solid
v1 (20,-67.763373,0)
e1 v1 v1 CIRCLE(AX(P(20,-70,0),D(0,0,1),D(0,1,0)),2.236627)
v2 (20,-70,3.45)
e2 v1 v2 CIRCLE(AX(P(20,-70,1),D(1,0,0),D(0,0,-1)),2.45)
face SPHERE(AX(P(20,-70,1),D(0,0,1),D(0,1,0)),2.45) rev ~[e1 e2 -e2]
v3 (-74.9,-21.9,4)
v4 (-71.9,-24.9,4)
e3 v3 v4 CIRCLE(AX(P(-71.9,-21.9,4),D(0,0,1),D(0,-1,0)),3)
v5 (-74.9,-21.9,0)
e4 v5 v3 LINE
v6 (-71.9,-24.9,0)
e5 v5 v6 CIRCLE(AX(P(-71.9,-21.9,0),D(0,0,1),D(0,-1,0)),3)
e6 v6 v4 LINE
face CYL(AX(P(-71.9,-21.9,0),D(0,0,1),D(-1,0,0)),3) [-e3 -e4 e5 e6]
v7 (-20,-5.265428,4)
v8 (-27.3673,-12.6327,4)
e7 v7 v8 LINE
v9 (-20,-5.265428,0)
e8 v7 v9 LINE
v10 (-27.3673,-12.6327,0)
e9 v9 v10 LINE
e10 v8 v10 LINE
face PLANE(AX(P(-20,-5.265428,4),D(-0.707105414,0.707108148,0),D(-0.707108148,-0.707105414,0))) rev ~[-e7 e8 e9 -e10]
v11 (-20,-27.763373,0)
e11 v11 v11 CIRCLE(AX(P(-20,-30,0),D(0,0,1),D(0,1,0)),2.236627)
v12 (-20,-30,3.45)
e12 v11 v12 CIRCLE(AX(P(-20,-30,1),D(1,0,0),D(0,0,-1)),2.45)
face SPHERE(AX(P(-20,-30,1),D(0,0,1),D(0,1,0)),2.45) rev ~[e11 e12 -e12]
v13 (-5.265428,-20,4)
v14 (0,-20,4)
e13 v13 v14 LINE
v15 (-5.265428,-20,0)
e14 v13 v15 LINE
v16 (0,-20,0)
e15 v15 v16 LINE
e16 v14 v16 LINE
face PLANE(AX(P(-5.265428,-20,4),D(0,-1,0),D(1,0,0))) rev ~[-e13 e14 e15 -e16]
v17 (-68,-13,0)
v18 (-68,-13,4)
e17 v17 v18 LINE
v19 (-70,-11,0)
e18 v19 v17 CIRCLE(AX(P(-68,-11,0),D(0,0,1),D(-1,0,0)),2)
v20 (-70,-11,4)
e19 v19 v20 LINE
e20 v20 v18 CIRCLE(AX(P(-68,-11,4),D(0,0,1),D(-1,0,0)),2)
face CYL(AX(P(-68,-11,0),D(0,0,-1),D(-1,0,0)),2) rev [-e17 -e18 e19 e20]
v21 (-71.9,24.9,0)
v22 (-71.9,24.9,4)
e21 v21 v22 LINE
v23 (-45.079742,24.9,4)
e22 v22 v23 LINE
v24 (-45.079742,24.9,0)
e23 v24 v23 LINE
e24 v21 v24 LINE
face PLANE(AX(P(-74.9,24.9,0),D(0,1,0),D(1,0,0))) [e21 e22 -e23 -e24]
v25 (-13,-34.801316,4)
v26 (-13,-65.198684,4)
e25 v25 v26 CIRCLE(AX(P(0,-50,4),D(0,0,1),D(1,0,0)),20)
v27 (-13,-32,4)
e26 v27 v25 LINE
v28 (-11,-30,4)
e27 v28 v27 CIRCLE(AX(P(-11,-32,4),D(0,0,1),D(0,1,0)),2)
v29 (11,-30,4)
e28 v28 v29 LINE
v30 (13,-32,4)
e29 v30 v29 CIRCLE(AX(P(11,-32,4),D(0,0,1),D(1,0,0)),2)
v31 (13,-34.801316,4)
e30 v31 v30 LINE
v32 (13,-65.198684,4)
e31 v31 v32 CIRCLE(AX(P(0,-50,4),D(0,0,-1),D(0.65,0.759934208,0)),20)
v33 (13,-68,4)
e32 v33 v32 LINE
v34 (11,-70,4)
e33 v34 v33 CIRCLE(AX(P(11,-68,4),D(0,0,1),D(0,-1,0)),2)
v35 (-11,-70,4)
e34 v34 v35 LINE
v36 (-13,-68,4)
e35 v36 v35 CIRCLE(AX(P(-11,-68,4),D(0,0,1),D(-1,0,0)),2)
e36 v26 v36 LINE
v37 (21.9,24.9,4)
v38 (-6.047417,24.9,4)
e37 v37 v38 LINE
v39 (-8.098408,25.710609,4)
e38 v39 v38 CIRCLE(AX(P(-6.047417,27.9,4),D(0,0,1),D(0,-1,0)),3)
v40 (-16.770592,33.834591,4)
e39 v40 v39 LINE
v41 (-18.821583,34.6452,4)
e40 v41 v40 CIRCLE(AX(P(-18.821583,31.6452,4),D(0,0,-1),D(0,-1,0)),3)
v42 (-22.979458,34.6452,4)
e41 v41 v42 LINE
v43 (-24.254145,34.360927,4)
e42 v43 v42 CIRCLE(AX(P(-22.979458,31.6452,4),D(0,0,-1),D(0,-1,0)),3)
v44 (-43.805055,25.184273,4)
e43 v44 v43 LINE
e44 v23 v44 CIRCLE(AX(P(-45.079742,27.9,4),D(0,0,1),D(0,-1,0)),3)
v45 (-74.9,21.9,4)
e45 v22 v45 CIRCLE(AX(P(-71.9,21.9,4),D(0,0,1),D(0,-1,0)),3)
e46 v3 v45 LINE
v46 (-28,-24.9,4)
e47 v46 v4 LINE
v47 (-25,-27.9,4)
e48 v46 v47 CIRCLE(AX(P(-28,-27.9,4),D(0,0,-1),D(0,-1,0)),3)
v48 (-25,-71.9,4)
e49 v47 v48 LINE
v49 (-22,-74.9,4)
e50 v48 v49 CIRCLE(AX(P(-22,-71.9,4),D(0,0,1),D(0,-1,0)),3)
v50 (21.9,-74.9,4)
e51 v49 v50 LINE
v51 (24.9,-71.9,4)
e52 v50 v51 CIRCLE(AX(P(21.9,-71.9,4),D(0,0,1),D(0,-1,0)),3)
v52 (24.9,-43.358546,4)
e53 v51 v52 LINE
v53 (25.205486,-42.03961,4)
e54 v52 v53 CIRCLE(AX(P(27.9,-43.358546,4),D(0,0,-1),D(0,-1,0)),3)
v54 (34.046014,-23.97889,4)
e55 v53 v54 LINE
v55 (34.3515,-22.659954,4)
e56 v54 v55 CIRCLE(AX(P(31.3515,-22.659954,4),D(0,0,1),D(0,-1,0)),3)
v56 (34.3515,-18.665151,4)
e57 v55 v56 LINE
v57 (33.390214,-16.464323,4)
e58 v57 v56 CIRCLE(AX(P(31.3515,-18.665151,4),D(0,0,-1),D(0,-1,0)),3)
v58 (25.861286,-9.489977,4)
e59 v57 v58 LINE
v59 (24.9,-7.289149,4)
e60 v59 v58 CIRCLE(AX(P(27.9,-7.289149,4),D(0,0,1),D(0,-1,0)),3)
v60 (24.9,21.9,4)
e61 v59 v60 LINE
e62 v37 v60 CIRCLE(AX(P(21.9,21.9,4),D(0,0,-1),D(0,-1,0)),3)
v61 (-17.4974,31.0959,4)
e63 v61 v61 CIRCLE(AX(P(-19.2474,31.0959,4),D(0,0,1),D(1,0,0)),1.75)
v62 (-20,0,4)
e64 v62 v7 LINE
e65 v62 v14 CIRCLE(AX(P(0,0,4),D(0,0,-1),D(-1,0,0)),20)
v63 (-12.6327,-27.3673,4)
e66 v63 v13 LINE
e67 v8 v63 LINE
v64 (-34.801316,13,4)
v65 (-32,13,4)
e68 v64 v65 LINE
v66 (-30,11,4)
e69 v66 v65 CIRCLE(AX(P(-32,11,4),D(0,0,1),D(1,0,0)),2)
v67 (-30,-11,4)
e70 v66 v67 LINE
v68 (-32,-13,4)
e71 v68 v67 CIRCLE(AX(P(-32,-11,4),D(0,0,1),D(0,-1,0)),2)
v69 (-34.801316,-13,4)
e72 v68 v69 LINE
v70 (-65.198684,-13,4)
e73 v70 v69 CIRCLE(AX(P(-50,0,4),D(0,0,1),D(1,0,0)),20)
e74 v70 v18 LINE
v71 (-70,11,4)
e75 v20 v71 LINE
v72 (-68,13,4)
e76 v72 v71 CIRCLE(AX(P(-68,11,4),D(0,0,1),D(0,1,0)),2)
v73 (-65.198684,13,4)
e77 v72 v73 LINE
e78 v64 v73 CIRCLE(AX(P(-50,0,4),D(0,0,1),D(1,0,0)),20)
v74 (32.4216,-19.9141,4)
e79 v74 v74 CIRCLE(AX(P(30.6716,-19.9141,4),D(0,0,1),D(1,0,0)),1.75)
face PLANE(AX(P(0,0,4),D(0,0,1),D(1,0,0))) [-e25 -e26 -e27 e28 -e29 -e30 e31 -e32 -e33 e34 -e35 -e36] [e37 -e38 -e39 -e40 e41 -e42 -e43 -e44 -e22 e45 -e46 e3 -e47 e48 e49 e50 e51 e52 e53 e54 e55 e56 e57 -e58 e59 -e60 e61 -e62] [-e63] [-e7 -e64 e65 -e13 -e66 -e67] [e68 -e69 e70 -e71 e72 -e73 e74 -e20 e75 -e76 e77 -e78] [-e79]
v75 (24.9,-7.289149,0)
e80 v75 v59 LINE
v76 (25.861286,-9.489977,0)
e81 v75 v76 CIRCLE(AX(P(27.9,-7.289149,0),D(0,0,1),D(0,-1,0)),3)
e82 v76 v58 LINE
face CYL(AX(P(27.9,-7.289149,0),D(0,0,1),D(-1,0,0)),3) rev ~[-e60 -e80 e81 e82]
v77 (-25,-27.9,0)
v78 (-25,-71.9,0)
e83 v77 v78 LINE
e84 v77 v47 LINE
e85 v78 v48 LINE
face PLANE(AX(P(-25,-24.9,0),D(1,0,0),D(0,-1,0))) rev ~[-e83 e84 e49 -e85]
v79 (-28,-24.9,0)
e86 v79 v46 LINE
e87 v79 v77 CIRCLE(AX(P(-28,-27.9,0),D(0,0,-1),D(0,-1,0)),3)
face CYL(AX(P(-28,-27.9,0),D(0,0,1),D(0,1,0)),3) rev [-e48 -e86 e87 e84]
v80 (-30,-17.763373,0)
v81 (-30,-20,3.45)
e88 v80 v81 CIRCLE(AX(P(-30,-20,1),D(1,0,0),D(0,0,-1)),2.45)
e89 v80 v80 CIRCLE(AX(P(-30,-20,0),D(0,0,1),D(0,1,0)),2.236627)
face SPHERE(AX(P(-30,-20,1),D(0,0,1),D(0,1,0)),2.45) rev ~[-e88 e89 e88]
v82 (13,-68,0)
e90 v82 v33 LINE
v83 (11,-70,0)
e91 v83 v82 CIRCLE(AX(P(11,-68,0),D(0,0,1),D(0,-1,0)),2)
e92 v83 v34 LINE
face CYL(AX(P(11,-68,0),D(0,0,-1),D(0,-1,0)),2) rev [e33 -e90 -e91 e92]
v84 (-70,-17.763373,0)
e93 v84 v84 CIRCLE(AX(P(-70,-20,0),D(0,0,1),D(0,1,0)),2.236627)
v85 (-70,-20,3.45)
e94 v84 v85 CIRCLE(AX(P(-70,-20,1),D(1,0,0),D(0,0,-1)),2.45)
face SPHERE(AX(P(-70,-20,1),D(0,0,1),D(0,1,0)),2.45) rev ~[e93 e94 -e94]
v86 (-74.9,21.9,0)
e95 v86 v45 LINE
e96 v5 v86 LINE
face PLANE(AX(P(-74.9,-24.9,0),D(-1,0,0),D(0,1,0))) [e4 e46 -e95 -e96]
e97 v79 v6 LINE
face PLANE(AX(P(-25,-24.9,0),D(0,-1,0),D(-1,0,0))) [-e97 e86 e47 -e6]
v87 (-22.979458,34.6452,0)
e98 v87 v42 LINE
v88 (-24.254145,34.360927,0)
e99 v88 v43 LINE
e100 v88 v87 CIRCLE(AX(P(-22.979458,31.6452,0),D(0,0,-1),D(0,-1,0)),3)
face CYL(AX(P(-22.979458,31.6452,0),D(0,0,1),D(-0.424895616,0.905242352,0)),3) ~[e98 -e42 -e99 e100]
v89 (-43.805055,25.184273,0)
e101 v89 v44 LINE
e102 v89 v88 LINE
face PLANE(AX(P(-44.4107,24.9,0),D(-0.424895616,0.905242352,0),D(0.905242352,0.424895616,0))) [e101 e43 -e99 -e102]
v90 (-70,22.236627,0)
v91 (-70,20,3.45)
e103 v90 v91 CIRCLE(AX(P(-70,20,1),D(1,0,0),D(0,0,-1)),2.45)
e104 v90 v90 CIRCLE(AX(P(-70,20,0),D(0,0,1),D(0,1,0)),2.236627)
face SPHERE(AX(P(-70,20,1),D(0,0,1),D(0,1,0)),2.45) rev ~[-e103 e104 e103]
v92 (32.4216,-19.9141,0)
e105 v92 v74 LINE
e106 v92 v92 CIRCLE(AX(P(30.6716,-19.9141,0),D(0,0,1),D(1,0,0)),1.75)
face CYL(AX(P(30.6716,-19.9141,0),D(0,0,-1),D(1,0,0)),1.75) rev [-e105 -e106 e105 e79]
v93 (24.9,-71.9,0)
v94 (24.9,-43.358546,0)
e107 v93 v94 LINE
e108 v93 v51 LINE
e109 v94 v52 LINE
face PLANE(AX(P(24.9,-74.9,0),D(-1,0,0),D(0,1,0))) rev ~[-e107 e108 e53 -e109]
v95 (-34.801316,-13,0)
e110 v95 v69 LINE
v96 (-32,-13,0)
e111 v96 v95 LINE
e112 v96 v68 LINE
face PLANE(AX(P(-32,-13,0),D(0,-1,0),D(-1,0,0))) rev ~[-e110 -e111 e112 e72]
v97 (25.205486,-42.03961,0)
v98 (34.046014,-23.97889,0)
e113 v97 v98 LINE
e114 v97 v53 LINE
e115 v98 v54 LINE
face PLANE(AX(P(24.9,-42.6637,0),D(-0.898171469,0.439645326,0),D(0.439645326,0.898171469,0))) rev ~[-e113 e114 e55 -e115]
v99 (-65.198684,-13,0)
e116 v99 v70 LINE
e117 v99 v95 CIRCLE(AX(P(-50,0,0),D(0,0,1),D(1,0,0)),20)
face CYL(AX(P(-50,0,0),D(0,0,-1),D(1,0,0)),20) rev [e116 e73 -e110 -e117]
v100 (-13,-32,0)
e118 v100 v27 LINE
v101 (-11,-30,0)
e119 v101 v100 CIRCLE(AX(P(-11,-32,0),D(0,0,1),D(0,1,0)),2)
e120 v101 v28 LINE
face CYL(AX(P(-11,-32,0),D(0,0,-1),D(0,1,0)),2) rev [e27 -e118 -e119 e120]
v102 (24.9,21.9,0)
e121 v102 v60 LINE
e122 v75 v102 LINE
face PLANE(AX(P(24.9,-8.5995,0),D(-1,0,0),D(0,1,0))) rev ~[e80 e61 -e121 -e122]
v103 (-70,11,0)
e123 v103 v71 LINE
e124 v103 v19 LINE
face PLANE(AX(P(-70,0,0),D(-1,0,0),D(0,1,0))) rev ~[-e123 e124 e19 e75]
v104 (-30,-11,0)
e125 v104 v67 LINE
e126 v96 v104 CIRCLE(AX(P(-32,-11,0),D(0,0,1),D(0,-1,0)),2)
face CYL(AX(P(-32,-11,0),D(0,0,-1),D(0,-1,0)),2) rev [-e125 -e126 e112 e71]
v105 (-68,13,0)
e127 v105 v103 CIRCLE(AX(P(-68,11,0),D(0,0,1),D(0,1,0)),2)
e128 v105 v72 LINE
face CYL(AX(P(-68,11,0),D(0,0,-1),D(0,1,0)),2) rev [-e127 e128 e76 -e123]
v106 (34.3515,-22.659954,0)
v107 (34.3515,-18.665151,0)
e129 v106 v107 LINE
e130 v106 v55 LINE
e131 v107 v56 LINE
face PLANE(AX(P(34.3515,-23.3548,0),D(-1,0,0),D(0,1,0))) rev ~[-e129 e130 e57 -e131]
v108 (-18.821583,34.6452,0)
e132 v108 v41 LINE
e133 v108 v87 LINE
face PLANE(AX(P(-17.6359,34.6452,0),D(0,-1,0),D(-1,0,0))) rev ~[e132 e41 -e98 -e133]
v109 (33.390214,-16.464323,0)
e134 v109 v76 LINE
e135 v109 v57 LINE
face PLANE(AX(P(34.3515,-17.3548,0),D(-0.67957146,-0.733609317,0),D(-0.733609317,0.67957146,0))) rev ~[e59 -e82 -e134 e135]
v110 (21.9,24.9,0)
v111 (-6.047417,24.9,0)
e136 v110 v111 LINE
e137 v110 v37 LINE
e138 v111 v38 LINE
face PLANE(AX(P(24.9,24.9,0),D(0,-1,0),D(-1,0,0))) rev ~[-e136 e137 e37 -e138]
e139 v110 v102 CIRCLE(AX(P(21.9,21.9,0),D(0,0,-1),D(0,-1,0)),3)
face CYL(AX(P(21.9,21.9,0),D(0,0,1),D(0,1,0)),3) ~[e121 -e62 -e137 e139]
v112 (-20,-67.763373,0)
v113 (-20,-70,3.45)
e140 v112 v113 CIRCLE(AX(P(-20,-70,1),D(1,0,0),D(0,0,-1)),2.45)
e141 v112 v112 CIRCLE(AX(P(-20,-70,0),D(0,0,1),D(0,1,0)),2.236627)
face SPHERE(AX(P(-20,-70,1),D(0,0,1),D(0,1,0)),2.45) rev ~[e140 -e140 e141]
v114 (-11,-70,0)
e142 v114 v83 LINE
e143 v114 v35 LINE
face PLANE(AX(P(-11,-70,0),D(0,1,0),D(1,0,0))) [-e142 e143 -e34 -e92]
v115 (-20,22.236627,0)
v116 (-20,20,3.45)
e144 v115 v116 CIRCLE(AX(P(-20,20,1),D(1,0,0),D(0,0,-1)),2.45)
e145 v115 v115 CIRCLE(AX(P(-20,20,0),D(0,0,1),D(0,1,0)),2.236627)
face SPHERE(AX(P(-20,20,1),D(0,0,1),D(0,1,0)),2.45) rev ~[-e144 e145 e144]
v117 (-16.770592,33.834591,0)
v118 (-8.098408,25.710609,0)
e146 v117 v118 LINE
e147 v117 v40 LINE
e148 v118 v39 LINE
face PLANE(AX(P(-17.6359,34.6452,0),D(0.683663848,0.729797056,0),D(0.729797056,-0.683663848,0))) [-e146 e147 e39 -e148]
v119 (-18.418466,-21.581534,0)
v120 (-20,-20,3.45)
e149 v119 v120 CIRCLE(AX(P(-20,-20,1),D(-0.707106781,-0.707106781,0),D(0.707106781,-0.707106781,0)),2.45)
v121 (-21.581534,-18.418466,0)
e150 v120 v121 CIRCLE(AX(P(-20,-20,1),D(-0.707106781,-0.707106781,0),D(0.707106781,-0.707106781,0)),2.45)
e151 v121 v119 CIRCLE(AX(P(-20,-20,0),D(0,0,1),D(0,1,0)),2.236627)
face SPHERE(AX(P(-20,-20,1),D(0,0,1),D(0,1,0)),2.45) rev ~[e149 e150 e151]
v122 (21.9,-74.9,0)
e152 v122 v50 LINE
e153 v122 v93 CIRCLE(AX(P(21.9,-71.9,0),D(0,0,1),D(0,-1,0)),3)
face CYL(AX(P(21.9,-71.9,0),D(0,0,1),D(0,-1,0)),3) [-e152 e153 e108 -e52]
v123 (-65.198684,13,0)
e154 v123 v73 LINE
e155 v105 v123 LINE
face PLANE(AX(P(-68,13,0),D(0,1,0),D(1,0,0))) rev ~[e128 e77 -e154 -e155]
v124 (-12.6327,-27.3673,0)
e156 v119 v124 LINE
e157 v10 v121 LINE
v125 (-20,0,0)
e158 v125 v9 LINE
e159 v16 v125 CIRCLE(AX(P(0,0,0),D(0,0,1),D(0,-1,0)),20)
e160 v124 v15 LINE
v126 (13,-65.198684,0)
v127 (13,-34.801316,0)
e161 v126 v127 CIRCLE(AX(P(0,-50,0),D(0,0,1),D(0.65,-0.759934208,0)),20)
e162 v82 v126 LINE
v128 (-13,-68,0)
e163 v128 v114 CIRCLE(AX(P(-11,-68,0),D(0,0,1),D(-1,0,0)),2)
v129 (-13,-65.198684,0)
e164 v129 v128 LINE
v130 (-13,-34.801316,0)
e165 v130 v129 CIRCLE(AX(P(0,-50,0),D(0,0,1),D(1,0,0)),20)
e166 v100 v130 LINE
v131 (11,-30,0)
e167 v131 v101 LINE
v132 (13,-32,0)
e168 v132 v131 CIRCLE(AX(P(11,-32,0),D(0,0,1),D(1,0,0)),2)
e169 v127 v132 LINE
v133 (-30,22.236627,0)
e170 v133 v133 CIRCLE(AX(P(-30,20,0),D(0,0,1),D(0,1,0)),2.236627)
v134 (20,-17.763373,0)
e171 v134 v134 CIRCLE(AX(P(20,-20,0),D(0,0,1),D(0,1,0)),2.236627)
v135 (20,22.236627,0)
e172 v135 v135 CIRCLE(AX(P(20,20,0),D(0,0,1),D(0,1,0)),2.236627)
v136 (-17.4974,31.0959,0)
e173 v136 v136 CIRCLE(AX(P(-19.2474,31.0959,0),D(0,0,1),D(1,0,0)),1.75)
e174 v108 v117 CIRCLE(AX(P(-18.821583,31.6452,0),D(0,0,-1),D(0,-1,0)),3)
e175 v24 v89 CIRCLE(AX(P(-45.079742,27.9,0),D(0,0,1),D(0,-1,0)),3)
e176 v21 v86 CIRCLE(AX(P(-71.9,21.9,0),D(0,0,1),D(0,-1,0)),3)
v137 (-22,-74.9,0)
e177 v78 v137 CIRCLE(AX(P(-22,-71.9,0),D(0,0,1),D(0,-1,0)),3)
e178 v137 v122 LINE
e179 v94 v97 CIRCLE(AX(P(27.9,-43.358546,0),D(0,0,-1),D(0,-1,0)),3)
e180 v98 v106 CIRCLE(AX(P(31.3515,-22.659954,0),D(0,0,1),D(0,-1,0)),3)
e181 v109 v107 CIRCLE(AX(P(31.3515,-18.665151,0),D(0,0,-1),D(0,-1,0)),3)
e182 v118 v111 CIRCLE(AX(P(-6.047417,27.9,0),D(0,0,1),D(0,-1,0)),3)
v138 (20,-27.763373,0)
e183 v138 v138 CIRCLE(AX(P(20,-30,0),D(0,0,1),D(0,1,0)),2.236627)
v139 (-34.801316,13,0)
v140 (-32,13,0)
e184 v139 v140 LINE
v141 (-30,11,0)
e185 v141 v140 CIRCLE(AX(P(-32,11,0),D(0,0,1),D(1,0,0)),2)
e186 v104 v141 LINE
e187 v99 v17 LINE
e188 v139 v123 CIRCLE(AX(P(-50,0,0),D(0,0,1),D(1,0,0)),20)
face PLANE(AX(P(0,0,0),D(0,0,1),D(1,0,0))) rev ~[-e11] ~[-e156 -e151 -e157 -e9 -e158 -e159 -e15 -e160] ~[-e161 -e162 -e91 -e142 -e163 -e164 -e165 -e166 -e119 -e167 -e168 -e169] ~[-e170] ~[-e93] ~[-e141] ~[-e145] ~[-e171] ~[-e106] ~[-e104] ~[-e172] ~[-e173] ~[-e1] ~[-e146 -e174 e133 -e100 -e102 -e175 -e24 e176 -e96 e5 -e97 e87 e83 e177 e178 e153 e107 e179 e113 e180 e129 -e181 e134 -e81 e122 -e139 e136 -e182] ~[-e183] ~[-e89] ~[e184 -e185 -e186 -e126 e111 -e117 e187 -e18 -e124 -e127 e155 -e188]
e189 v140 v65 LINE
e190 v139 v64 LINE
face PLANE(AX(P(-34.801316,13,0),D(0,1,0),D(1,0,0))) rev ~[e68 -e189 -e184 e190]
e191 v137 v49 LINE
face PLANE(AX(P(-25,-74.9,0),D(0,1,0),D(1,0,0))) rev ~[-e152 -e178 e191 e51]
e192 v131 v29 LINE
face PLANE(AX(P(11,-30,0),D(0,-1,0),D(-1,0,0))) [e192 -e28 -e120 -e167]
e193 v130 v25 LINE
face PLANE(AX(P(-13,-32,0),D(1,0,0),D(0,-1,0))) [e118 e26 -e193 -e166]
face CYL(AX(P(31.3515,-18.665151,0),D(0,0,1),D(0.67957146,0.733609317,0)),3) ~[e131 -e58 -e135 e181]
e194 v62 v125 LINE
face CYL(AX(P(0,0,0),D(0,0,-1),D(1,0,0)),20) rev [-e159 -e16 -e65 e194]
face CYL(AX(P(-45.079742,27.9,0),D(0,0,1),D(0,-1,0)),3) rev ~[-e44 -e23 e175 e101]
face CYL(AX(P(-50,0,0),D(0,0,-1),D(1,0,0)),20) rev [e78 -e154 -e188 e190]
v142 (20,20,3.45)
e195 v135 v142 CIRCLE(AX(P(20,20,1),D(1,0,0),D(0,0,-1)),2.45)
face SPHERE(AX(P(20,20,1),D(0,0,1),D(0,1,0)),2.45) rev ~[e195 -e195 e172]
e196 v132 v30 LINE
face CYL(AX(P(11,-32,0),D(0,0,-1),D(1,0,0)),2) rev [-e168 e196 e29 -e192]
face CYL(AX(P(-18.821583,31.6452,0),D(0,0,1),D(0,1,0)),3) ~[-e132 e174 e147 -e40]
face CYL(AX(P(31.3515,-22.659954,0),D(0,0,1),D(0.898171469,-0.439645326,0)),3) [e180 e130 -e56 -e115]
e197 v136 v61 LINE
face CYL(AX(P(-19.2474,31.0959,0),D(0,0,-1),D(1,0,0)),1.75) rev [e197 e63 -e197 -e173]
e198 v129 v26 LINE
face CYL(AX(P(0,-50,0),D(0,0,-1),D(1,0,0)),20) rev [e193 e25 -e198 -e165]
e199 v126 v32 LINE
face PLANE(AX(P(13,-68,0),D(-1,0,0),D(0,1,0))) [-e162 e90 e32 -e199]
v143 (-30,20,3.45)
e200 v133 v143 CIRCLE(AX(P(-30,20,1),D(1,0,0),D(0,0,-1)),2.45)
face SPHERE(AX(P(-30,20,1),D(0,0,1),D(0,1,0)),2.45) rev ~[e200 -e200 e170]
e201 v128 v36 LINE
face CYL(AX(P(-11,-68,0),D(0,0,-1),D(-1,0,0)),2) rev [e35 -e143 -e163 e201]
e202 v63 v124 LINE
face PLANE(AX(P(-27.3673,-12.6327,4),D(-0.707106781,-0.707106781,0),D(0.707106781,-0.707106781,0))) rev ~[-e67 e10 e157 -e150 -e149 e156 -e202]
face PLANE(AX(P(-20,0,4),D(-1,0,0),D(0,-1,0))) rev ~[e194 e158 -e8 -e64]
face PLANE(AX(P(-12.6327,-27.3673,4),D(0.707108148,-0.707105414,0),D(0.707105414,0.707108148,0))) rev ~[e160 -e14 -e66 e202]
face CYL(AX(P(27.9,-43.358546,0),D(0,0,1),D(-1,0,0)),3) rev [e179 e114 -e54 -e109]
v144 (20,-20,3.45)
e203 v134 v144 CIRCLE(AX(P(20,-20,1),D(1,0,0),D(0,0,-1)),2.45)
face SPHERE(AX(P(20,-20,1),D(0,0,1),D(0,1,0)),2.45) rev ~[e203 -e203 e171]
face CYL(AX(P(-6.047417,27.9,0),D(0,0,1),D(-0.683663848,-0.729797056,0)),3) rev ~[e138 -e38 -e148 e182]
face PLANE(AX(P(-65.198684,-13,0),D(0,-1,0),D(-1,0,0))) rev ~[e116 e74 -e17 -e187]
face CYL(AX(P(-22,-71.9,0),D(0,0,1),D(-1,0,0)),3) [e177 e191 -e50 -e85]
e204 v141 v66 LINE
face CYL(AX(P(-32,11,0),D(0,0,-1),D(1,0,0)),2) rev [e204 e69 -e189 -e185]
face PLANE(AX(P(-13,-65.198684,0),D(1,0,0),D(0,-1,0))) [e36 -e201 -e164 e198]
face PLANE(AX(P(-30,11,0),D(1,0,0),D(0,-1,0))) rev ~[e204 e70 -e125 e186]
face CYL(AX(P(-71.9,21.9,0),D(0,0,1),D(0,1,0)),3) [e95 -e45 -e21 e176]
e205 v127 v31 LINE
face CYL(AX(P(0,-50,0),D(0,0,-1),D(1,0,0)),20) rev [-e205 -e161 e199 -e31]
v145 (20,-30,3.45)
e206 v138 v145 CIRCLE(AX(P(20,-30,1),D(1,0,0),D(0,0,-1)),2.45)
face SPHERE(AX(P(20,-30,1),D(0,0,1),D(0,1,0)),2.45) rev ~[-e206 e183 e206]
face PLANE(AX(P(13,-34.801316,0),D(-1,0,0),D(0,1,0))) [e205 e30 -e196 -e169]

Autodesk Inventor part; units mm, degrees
ref_plane "YZ Plane" through (0, 0, 0) normal (1, 0, 0) x (0, 1, 0)
ref_plane "XZ Plane" through (0, 0, 0) normal (0, 1, 0) x (-1, 0, 0)
ref_plane "XY Plane" through (0, 0, 0) normal (0, 0, 1) x (1, 0, 0)
ref_plane "Work Plane1" through (0, 0, 0) normal (0, 0, 1) x (1, 0, 0)
sketch "Sketch1" plane through (0, 0, 0) normal (0, 0, 1) x (1, 0, 0)
  line L0 (-16.9, -16.9) -> (-16.9, 16.9) construction
  line L1 (-16.9, 16.9) -> (16.9, 16.9) construction
  line L2 (16.9, 16.9) -> (16.9, -16.9) construction
  line L3 (16.9, -16.9) -> (-16.9, -16.9) construction
  circle A0 centre (-19.9, 19.9) radius 2.75 construction
  circle A1 centre (19.9, -19.9) radius 2.75 construction
  circle A2 centre (19.9, 19.9) radius 2.75 construction
  circle A3 centre (-19.9, -19.9) radius 2.75 construction
  line L4 (-22.9, 22.9) -> (22.9, 22.9) construction
  line L5 (-22.9, -22.9) -> (-22.9, 22.9) construction
  line L6 (22.9, -22.9) -> (-22.9, -22.9) construction
  line L7 (22.9, 22.9) -> (22.9, -22.9) construction
  circle A4 centre (0, 0) radius 19.9847 construction
  circle A5 centre (30.6716, -19.9141) radius 1.6508 construction
  circle A6 centre (-19.2474, 31.0959) radius 1.649 construction
  line L8 (-11.1833, 28.6006) -> (11.7978, 28.3526) construction
  line L9 (-17.6359, 34.6452) -> (-11.1833, 28.6006) construction
  line L10 (-23.6485, 34.6452) -> (-17.6359, 34.6452) construction
  line L11 (-22.8713, 22.6559) -> (-23.6485, 34.6452) construction
  line L12 (-23.6485, -13.3567) -> (-22.8713, 22.6559) construction
  line L13 (-23.6485, -23.3548) -> (-23.6485, -13.3567) construction
  line L14 (34.3515, -23.3548) -> (-23.6485, -23.3548) construction
  line L15 (34.3515, -17.3548) -> (34.3515, -23.3548) construction
  line L16 (28.3526, -11.7978) -> (34.3515, -17.3548) construction
  line L17 (28.6006, 11.1833) -> (28.3526, -11.7978) construction
  arc A7 (28.6006, 11.1833) -> (11.7978, 28.3526) centre (10.7217, 10.4928) ccw construction
  arc A8 (-24.9, -22.9) -> (-22.9, -24.9) centre (-22.9, -22.9) ccw construction
  arc A9 (-22.9, 24.9) -> (-24.9, 22.9) centre (-22.9, 22.9) ccw construction
  arc A10 (24.9, 22.9) -> (22.9, 24.9) centre (22.9, 22.9) ccw construction
  arc A11 (22.9, -24.9) -> (24.9, -22.9) centre (22.9, -22.9) ccw construction
  line L18 (24.9, 24.9) -> (-74.9, 24.9) construction
  line L19 (-74.9, 24.9) -> (-74.9, -24.9) construction
  line L20 (-74.9, -24.9) -> (24.9, -24.9) construction
  line L21 (24.9, -24.9) -> (24.9, 24.9) construction
  line L22 (24.9, -24.9) -> (-25, -24.9) construction
  line L23 (-25, -24.9) -> (-25, -74.9) construction
  line L24 (-25, -74.9) -> (24.9, -74.9) construction
  line L25 (24.9, -74.9) -> (24.9, -24.9) construction
  line L26 (-74.9, 24.9) -> (-25, 24.9)
  line L27 (-25, 24.9) -> (-25, -24.9)
  line L28 (-25, -24.9) -> (-74.9, -24.9)
  line L29 (-74.9, -24.9) -> (-74.9, 24.9)
  line L30 (-25, -74.9) -> (24.9, -74.9)
  line L31 (24.9, -74.9) -> (24.9, -24.9)
  line L32 (24.9, -24.9) -> (-25, -24.9)
  line L33 (-25, -24.9) -> (-25, -74.9)
  circle A12 centre (0, 0) radius 20
  circle A13 centre (-50, 0) radius 20
  circle A14 centre (0, -50) radius 20
  line L34 (-25, -24.9) -> (24.9, -24.9)
  line L35 (24.9, -24.9) -> (24.9, 24.9)
  line L36 (24.9, 24.9) -> (-25, 24.9)
  line L37 (-25, 24.9) -> (-25, -24.9)
  line L38 (34.3515, -23.3548) -> (12.5761, -67.8407) construction
  line L39 (-24.6505, -24.1243) -> (34.3515, -23.3548) construction
  line L40 (-23.6485, 34.6452) -> (-24.6505, -24.1243) construction
  line L41 (-67.591, 14.0198) -> (-23.6485, 34.6452) construction
  arc A15 (-67.591, 14.0198) -> (-72.2252, 6.8961) centre (-64.1657, 6.7223) ccw construction
  line L42 (-72.3572, -5.3362) -> (-72.2252, 6.8961) construction
  arc A16 (-72.3572, -5.3362) -> (-70.7942, -10.6047) centre (-52.5572, -2.3284) ccw construction
  line L43 (-59.2435, -49.54) -> (-70.7942, -10.6047) construction
  line L44 (-50.8067, -58.1609) -> (-59.2435, -49.54) construction
  arc A17 (-50.8067, -58.1609) -> (-47.0776, -60.4156) centre (-44.5702, -52.0575) ccw construction
  line L45 (-6.8108, -72.2261) -> (-47.0776, -60.4156) construction
  arc A18 (-6.8108, -72.2261) -> (12.5761, -67.8407) centre (0.6863, -60.3238) ccw construction
  circle A19 centre (0, 0) radius 19.9847 construction
  circle A20 centre (-19.2474, 31.0959) radius 1.649 construction
  circle A21 centre (30.6716, -19.9141) radius 1.6508 construction
  line L46 (-11.1833, 28.6006) -> (11.7978, 28.3526) construction
  line L47 (-17.6359, 34.6452) -> (-11.1833, 28.6006) construction
  line L48 (-23.6485, 34.6452) -> (-17.6359, 34.6452) construction
  line L49 (-22.8713, 22.6559) -> (-23.6485, 34.6452) construction
  line L50 (-23.6485, -13.3567) -> (-22.8713, 22.6559) construction
  line L51 (-23.6485, -23.3548) -> (-23.6485, -13.3567) construction
  line L52 (34.3515, -23.3548) -> (-23.6485, -23.3548) construction
  line L53 (34.3515, -17.3548) -> (34.3515, -23.3548) construction
  line L54 (28.3526, -11.7978) -> (34.3515, -17.3548) construction
  line L55 (28.6006, 11.1833) -> (28.3526, -11.7978) construction
  arc A22 (28.6006, 11.1833) -> (11.7978, 28.3526) centre (10.7217, 10.4928) ccw construction
  line L56 (24.9, -42.6637) -> (34.3515, -23.3548)
  line L57 (34.3515, -23.3548) -> (34.3515, -17.3548)
  line L58 (34.3515, -17.3548) -> (24.9, -8.5995)
  line L59 (-17.6359, 34.6452) -> (-7.2331, 24.9)
  line L60 (-17.6359, 34.6452) -> (-23.6485, 34.6452)
  line L61 (-44.4107, 24.9) -> (-23.6485, 34.6452)
  circle A23 centre (-19.2474, 31.0959) radius 1.75
  circle A24 centre (30.6716, -19.9141) radius 1.75
  line L62 (-7.2331, 24.9) -> (-44.4107, 24.9)
  line L63 (-68, 13) -> (-32, 13)
  line L64 (-30, 11) -> (-30, -11)
  line L65 (-32, -13) -> (-68, -13)
  line L66 (-70, -11) -> (-70, 11)
  arc A25 (-68, 13) -> (-70, 11) centre (-68, 11) ccw
  arc A26 (-30, 11) -> (-32, 13) centre (-32, 11) ccw
  arc A27 (-32, -13) -> (-30, -11) centre (-32, -11) ccw
  arc A28 (-70, -11) -> (-68, -13) centre (-68, -11) ccw
  line L67 (24.9, 24.9) -> (-25, -25) construction
  line L68 (24.9, 24.9) -> (95.4693, 24.9) construction
  circle A29 centre (0, -50) radius 20
  arc A30 (6.8961, -72.2252) -> (14.0198, -67.591) centre (6.7223, -64.1657) ccw construction
  line L69 (-5.3362, -72.3572) -> (6.8961, -72.2252) construction
  arc A31 (-10.6047, -70.7942) -> (-5.3362, -72.3572) centre (-2.3284, -52.5572) ccw construction
  line L70 (13, -68) -> (13, -32)
  line L71 (11, -30) -> (-11, -30)
  line L72 (-13, -32) -> (-13, -68)
  line L73 (-11, -70) -> (11, -70)
  arc A32 (11, -70) -> (13, -68) centre (11, -68) ccw
  arc A33 (13, -32) -> (11, -30) centre (11, -32) ccw
  arc A34 (-11, -30) -> (-13, -32) centre (-11, -32) ccw
  arc A35 (-13, -68) -> (-11, -70) centre (-11, -68) ccw
  point P0 (0, 0)
  point P1 (-30, -13)
  point P2 (-30, 13)
  point P3 (-70, -13)
  point P4 (-13, -30)
  point P5 (13, -30)
  point P6 (-13, -70)
  dimension "d0" = 99.8
  dimension "d1" = 50
  dimension "d2" = 40
  dimension "d3" = 40
  dimension "d4" = 50
  dimension "d5" = 40
  dimension "d6" = 50
  dimension "d25" = 3.5
  dimension "d26" = 3.5
  dimension "d28" = 40
  dimension "d29" = 26
  dimension "d30" = 30
  dimension "d32" = 13
  dimension "d33" = 2
  dimension "d34" = 135
extrude "Extrusion1" add sketch "Sketch1" along normal blind 4
ref_plane "Work Plane2" through (20, -74.9, 0) normal (1, 0, 0) x (0, 0, -1)
sketch "Sketch2" plane through (20, -74.9, 0) normal (1, 0, 0) x (0, 0, -1)
  line L0 (2.5, 97.55) -> (0, 97.55)
  line L1 (2.5, 92.05) -> (0, 92.05)
  line L2 (0, 94.9) -> (-4, 94.9) projected
  circle A0 centre (-1, 94.9) radius 2.45
  line L3 (1.45, 94.9) -> (-3.45, 94.9)
  line L4 (0, 0) -> (0, 99.8) construction
  point P0 (0, 74.9)
  dimension "d10" = 4.9
  dimension "d11" = 1
revolve "Revolution1" cut sketch "Sketch2" angle 360 about axis through (20, 20, -1.45) along (0, 0, 1) picked at (-2.2763, 95.0954) contours L2 A0 L3
pattern_linear "Rectangular Pattern1" count 2 spacing 40 along (0, -1, 0) count 2 spacing 40 along (-1, 0, 0) of "Revolution1"
pattern_linear "Rectangular Pattern2" count 2 spacing 50 along (0, -1, 0) count 2 spacing 50 along (-1, 0, 0) of "Revolution1", "Rectangular Pattern1"
fillet "Fillet1" radius 3 14 edges at (-25, -24.9, 2) (-25, -74.9, 2) (24.9, -74.9, 2) (24.9, -42.6637, 2) (34.3515, -23.3548, 2) (34.3515, -17.3548, 2) (24.9, -8.5995, 2) (24.9, 24.9, 2) (-7.2331, 24.9, 2) (-17.6359, 34.6452, 2) (-23.6485, 34.6452, 2) (-44.4107, 24.9, 2) (-74.9, 24.9, 2) (-74.9, -24.9, 2)
sketch "Sketch3" plane through (0, 0, 4) normal (0, 0, 1) x (1, 0, 0)
  circle A0 centre (30.6716, -19.9141) radius 1.75 projected
  arc A1 (13, -65.1987) -> (13, -34.8013) centre (0, -50) ccw projected
  line L0 (13, -65.1987) -> (13, -68) projected
  arc A2 (11, -70) -> (13, -68) centre (11, -68) ccw projected
  line L1 (11, -70) -> (-11, -70) projected
  arc A3 (-13, -68) -> (-11, -70) centre (-11, -68) ccw projected
  line L2 (-13, -68) -> (-13, -65.1987) projected
  arc A4 (-13, -34.8013) -> (-13, -65.1987) centre (0, -50) ccw projected
  line L3 (-13, -34.8013) -> (-13, -32) projected
  arc A5 (-11, -30) -> (-13, -32) centre (-11, -32) ccw projected
  line L4 (-11, -30) -> (11, -30) projected
  arc A6 (13, -32) -> (11, -30) centre (11, -32) ccw projected
  line L5 (13, -32) -> (13, -34.8013) projected
  arc A7 (-65.1987, -13) -> (-34.8013, -13) centre (-50, 0) ccw projected
  line L6 (-65.1987, -13) -> (-68, -13) projected
  arc A8 (-70, -11) -> (-68, -13) centre (-68, -11) ccw projected
  line L7 (-70, -11) -> (-70, 11) projected
  arc A9 (-68, 13) -> (-70, 11) centre (-68, 11) ccw projected
  line L8 (-68, 13) -> (-65.1987, 13) projected
  arc A10 (-34.8013, 13) -> (-65.1987, 13) centre (-50, 0) ccw projected
  line L9 (-34.8013, 13) -> (-32, 13) projected
  arc A11 (-30, 11) -> (-32, 13) centre (-32, 11) ccw projected
  line L10 (-30, 11) -> (-30, -11) projected
  arc A12 (-32, -13) -> (-30, -11) centre (-32, -11) ccw projected
  line L11 (-32, -13) -> (-34.8013, -13) projected
  circle A13 centre (-19.2474, 31.0959) radius 1.75 projected
  circle A14 centre (0, 0) radius 20 projected
  arc A15 (-74.9, -21.9) -> (-71.9, -24.9) centre (-71.9, -21.9) ccw projected
  line L12 (-71.9, -24.9) -> (-28, -24.9) projected
  arc A16 (-25, -27.9) -> (-28, -24.9) centre (-28, -27.9) ccw projected
  line L13 (-25, -27.9) -> (-25, -71.9) projected
  arc A17 (-25, -71.9) -> (-22, -74.9) centre (-22, -71.9) ccw projected
  line L14 (-22, -74.9) -> (21.9, -74.9) projected
  arc A18 (21.9, -74.9) -> (24.9, -71.9) centre (21.9, -71.9) ccw projected
  line L15 (24.9, -71.9) -> (24.9, -43.3586) projected
  arc A19 (25.2055, -42.0396) -> (24.9, -43.3586) centre (27.9, -43.3586) ccw projected
  line L16 (25.2055, -42.0396) -> (34.046, -23.9789) projected
  arc A20 (34.046, -23.9789) -> (34.3515, -22.66) centre (31.3515, -22.66) ccw projected
  line L17 (34.3515, -22.66) -> (34.3515, -18.6652) projected
  arc A21 (34.3515, -18.6652) -> (33.3902, -16.4643) centre (31.3515, -18.6652) ccw projected
  line L18 (33.3902, -16.4643) -> (25.8613, -9.49) projected
  arc A22 (24.9, -7.2892) -> (25.8613, -9.49) centre (27.9, -7.2892) ccw projected
  line L19 (24.9, -7.2892) -> (24.9, 21.9) projected
  arc A23 (24.9, 21.9) -> (21.9, 24.9) centre (21.9, 21.9) ccw projected
  line L20 (21.9, 24.9) -> (-6.0474, 24.9) projected
  arc A24 (-8.0984, 25.7106) -> (-6.0474, 24.9) centre (-6.0474, 27.9) ccw projected
  line L21 (-8.0984, 25.7106) -> (-16.7706, 33.8346) projected
  arc A25 (-16.7706, 33.8346) -> (-18.8216, 34.6452) centre (-18.8216, 31.6452) ccw projected
  line L22 (-18.8216, 34.6452) -> (-22.9795, 34.6452) projected
  arc A26 (-22.9795, 34.6452) -> (-24.2541, 34.3609) centre (-22.9795, 31.6452) ccw projected
  line L23 (-24.2541, 34.3609) -> (-43.805, 25.1843) projected
  arc A27 (-45.0797, 24.9) -> (-43.805, 25.1843) centre (-45.0797, 27.9) ccw projected
  line L24 (-45.0797, 24.9) -> (-71.9, 24.9) projected
  arc A28 (-71.9, 24.9) -> (-74.9, 21.9) centre (-71.9, 21.9) ccw projected
  line L25 (-74.9, 21.9) -> (-74.9, -21.9) projected
  circle A29 centre (0, 0) radius 20 projected
  circle A30 centre (-20, -20) radius 2.2366 projected
  line L26 (-20, 0) -> (-20, -20)
  line L27 (-20, -20) -> (0, -20)
  line L28 (0, 0) -> (-20, 0)
  line L29 (-20, 0) -> (-20, -20)
  line L30 (-20, -20) -> (0, -20)
  line L31 (0, -20) -> (0, 0)
  line L32 (0, 0) -> (-14.1421, -14.1421)
  line L33 (0, 0) -> (20, 0) construction
  line L34 (13.2251, -1.5094) -> (-1.5094, 13.2251)
  line L35 (-1.5094, 13.2251) -> (-27.3673, -12.6327)
  line L36 (-27.3673, -12.6327) -> (-12.6327, -27.3673)
  line L37 (-12.6327, -27.3673) -> (13.2251, -1.5094)
  line L38 (13.2251, -1.5094) -> (-27.3673, -12.6327) construction
  line L39 (-1.5094, 13.2251) -> (-12.6327, -27.3673) construction
  point P0 (0, 0)
  point P1 (-7.0711, -7.0711)
  dimension "d37" = 135
extrude "Extrusion2" cut sketch "Sketch3" against normal blind 10 contours L28 L35 A14 | A14 L35 L26 | L27 L37 A14 | A14 L37 L31 | L35 L28 L32 A14 | A14 L37 L27 A30 L26 L35 | L26 A30 L36 L35 | L35 L34 L37 L31 L28 | A14 L32 L31 L37 | L37 L36 A30 L27 | L26 L36 A30 | A30 L27 L26 | A30 L36 L27
properties part number "20_Cube_Insert_Openflexure_Adapter"
